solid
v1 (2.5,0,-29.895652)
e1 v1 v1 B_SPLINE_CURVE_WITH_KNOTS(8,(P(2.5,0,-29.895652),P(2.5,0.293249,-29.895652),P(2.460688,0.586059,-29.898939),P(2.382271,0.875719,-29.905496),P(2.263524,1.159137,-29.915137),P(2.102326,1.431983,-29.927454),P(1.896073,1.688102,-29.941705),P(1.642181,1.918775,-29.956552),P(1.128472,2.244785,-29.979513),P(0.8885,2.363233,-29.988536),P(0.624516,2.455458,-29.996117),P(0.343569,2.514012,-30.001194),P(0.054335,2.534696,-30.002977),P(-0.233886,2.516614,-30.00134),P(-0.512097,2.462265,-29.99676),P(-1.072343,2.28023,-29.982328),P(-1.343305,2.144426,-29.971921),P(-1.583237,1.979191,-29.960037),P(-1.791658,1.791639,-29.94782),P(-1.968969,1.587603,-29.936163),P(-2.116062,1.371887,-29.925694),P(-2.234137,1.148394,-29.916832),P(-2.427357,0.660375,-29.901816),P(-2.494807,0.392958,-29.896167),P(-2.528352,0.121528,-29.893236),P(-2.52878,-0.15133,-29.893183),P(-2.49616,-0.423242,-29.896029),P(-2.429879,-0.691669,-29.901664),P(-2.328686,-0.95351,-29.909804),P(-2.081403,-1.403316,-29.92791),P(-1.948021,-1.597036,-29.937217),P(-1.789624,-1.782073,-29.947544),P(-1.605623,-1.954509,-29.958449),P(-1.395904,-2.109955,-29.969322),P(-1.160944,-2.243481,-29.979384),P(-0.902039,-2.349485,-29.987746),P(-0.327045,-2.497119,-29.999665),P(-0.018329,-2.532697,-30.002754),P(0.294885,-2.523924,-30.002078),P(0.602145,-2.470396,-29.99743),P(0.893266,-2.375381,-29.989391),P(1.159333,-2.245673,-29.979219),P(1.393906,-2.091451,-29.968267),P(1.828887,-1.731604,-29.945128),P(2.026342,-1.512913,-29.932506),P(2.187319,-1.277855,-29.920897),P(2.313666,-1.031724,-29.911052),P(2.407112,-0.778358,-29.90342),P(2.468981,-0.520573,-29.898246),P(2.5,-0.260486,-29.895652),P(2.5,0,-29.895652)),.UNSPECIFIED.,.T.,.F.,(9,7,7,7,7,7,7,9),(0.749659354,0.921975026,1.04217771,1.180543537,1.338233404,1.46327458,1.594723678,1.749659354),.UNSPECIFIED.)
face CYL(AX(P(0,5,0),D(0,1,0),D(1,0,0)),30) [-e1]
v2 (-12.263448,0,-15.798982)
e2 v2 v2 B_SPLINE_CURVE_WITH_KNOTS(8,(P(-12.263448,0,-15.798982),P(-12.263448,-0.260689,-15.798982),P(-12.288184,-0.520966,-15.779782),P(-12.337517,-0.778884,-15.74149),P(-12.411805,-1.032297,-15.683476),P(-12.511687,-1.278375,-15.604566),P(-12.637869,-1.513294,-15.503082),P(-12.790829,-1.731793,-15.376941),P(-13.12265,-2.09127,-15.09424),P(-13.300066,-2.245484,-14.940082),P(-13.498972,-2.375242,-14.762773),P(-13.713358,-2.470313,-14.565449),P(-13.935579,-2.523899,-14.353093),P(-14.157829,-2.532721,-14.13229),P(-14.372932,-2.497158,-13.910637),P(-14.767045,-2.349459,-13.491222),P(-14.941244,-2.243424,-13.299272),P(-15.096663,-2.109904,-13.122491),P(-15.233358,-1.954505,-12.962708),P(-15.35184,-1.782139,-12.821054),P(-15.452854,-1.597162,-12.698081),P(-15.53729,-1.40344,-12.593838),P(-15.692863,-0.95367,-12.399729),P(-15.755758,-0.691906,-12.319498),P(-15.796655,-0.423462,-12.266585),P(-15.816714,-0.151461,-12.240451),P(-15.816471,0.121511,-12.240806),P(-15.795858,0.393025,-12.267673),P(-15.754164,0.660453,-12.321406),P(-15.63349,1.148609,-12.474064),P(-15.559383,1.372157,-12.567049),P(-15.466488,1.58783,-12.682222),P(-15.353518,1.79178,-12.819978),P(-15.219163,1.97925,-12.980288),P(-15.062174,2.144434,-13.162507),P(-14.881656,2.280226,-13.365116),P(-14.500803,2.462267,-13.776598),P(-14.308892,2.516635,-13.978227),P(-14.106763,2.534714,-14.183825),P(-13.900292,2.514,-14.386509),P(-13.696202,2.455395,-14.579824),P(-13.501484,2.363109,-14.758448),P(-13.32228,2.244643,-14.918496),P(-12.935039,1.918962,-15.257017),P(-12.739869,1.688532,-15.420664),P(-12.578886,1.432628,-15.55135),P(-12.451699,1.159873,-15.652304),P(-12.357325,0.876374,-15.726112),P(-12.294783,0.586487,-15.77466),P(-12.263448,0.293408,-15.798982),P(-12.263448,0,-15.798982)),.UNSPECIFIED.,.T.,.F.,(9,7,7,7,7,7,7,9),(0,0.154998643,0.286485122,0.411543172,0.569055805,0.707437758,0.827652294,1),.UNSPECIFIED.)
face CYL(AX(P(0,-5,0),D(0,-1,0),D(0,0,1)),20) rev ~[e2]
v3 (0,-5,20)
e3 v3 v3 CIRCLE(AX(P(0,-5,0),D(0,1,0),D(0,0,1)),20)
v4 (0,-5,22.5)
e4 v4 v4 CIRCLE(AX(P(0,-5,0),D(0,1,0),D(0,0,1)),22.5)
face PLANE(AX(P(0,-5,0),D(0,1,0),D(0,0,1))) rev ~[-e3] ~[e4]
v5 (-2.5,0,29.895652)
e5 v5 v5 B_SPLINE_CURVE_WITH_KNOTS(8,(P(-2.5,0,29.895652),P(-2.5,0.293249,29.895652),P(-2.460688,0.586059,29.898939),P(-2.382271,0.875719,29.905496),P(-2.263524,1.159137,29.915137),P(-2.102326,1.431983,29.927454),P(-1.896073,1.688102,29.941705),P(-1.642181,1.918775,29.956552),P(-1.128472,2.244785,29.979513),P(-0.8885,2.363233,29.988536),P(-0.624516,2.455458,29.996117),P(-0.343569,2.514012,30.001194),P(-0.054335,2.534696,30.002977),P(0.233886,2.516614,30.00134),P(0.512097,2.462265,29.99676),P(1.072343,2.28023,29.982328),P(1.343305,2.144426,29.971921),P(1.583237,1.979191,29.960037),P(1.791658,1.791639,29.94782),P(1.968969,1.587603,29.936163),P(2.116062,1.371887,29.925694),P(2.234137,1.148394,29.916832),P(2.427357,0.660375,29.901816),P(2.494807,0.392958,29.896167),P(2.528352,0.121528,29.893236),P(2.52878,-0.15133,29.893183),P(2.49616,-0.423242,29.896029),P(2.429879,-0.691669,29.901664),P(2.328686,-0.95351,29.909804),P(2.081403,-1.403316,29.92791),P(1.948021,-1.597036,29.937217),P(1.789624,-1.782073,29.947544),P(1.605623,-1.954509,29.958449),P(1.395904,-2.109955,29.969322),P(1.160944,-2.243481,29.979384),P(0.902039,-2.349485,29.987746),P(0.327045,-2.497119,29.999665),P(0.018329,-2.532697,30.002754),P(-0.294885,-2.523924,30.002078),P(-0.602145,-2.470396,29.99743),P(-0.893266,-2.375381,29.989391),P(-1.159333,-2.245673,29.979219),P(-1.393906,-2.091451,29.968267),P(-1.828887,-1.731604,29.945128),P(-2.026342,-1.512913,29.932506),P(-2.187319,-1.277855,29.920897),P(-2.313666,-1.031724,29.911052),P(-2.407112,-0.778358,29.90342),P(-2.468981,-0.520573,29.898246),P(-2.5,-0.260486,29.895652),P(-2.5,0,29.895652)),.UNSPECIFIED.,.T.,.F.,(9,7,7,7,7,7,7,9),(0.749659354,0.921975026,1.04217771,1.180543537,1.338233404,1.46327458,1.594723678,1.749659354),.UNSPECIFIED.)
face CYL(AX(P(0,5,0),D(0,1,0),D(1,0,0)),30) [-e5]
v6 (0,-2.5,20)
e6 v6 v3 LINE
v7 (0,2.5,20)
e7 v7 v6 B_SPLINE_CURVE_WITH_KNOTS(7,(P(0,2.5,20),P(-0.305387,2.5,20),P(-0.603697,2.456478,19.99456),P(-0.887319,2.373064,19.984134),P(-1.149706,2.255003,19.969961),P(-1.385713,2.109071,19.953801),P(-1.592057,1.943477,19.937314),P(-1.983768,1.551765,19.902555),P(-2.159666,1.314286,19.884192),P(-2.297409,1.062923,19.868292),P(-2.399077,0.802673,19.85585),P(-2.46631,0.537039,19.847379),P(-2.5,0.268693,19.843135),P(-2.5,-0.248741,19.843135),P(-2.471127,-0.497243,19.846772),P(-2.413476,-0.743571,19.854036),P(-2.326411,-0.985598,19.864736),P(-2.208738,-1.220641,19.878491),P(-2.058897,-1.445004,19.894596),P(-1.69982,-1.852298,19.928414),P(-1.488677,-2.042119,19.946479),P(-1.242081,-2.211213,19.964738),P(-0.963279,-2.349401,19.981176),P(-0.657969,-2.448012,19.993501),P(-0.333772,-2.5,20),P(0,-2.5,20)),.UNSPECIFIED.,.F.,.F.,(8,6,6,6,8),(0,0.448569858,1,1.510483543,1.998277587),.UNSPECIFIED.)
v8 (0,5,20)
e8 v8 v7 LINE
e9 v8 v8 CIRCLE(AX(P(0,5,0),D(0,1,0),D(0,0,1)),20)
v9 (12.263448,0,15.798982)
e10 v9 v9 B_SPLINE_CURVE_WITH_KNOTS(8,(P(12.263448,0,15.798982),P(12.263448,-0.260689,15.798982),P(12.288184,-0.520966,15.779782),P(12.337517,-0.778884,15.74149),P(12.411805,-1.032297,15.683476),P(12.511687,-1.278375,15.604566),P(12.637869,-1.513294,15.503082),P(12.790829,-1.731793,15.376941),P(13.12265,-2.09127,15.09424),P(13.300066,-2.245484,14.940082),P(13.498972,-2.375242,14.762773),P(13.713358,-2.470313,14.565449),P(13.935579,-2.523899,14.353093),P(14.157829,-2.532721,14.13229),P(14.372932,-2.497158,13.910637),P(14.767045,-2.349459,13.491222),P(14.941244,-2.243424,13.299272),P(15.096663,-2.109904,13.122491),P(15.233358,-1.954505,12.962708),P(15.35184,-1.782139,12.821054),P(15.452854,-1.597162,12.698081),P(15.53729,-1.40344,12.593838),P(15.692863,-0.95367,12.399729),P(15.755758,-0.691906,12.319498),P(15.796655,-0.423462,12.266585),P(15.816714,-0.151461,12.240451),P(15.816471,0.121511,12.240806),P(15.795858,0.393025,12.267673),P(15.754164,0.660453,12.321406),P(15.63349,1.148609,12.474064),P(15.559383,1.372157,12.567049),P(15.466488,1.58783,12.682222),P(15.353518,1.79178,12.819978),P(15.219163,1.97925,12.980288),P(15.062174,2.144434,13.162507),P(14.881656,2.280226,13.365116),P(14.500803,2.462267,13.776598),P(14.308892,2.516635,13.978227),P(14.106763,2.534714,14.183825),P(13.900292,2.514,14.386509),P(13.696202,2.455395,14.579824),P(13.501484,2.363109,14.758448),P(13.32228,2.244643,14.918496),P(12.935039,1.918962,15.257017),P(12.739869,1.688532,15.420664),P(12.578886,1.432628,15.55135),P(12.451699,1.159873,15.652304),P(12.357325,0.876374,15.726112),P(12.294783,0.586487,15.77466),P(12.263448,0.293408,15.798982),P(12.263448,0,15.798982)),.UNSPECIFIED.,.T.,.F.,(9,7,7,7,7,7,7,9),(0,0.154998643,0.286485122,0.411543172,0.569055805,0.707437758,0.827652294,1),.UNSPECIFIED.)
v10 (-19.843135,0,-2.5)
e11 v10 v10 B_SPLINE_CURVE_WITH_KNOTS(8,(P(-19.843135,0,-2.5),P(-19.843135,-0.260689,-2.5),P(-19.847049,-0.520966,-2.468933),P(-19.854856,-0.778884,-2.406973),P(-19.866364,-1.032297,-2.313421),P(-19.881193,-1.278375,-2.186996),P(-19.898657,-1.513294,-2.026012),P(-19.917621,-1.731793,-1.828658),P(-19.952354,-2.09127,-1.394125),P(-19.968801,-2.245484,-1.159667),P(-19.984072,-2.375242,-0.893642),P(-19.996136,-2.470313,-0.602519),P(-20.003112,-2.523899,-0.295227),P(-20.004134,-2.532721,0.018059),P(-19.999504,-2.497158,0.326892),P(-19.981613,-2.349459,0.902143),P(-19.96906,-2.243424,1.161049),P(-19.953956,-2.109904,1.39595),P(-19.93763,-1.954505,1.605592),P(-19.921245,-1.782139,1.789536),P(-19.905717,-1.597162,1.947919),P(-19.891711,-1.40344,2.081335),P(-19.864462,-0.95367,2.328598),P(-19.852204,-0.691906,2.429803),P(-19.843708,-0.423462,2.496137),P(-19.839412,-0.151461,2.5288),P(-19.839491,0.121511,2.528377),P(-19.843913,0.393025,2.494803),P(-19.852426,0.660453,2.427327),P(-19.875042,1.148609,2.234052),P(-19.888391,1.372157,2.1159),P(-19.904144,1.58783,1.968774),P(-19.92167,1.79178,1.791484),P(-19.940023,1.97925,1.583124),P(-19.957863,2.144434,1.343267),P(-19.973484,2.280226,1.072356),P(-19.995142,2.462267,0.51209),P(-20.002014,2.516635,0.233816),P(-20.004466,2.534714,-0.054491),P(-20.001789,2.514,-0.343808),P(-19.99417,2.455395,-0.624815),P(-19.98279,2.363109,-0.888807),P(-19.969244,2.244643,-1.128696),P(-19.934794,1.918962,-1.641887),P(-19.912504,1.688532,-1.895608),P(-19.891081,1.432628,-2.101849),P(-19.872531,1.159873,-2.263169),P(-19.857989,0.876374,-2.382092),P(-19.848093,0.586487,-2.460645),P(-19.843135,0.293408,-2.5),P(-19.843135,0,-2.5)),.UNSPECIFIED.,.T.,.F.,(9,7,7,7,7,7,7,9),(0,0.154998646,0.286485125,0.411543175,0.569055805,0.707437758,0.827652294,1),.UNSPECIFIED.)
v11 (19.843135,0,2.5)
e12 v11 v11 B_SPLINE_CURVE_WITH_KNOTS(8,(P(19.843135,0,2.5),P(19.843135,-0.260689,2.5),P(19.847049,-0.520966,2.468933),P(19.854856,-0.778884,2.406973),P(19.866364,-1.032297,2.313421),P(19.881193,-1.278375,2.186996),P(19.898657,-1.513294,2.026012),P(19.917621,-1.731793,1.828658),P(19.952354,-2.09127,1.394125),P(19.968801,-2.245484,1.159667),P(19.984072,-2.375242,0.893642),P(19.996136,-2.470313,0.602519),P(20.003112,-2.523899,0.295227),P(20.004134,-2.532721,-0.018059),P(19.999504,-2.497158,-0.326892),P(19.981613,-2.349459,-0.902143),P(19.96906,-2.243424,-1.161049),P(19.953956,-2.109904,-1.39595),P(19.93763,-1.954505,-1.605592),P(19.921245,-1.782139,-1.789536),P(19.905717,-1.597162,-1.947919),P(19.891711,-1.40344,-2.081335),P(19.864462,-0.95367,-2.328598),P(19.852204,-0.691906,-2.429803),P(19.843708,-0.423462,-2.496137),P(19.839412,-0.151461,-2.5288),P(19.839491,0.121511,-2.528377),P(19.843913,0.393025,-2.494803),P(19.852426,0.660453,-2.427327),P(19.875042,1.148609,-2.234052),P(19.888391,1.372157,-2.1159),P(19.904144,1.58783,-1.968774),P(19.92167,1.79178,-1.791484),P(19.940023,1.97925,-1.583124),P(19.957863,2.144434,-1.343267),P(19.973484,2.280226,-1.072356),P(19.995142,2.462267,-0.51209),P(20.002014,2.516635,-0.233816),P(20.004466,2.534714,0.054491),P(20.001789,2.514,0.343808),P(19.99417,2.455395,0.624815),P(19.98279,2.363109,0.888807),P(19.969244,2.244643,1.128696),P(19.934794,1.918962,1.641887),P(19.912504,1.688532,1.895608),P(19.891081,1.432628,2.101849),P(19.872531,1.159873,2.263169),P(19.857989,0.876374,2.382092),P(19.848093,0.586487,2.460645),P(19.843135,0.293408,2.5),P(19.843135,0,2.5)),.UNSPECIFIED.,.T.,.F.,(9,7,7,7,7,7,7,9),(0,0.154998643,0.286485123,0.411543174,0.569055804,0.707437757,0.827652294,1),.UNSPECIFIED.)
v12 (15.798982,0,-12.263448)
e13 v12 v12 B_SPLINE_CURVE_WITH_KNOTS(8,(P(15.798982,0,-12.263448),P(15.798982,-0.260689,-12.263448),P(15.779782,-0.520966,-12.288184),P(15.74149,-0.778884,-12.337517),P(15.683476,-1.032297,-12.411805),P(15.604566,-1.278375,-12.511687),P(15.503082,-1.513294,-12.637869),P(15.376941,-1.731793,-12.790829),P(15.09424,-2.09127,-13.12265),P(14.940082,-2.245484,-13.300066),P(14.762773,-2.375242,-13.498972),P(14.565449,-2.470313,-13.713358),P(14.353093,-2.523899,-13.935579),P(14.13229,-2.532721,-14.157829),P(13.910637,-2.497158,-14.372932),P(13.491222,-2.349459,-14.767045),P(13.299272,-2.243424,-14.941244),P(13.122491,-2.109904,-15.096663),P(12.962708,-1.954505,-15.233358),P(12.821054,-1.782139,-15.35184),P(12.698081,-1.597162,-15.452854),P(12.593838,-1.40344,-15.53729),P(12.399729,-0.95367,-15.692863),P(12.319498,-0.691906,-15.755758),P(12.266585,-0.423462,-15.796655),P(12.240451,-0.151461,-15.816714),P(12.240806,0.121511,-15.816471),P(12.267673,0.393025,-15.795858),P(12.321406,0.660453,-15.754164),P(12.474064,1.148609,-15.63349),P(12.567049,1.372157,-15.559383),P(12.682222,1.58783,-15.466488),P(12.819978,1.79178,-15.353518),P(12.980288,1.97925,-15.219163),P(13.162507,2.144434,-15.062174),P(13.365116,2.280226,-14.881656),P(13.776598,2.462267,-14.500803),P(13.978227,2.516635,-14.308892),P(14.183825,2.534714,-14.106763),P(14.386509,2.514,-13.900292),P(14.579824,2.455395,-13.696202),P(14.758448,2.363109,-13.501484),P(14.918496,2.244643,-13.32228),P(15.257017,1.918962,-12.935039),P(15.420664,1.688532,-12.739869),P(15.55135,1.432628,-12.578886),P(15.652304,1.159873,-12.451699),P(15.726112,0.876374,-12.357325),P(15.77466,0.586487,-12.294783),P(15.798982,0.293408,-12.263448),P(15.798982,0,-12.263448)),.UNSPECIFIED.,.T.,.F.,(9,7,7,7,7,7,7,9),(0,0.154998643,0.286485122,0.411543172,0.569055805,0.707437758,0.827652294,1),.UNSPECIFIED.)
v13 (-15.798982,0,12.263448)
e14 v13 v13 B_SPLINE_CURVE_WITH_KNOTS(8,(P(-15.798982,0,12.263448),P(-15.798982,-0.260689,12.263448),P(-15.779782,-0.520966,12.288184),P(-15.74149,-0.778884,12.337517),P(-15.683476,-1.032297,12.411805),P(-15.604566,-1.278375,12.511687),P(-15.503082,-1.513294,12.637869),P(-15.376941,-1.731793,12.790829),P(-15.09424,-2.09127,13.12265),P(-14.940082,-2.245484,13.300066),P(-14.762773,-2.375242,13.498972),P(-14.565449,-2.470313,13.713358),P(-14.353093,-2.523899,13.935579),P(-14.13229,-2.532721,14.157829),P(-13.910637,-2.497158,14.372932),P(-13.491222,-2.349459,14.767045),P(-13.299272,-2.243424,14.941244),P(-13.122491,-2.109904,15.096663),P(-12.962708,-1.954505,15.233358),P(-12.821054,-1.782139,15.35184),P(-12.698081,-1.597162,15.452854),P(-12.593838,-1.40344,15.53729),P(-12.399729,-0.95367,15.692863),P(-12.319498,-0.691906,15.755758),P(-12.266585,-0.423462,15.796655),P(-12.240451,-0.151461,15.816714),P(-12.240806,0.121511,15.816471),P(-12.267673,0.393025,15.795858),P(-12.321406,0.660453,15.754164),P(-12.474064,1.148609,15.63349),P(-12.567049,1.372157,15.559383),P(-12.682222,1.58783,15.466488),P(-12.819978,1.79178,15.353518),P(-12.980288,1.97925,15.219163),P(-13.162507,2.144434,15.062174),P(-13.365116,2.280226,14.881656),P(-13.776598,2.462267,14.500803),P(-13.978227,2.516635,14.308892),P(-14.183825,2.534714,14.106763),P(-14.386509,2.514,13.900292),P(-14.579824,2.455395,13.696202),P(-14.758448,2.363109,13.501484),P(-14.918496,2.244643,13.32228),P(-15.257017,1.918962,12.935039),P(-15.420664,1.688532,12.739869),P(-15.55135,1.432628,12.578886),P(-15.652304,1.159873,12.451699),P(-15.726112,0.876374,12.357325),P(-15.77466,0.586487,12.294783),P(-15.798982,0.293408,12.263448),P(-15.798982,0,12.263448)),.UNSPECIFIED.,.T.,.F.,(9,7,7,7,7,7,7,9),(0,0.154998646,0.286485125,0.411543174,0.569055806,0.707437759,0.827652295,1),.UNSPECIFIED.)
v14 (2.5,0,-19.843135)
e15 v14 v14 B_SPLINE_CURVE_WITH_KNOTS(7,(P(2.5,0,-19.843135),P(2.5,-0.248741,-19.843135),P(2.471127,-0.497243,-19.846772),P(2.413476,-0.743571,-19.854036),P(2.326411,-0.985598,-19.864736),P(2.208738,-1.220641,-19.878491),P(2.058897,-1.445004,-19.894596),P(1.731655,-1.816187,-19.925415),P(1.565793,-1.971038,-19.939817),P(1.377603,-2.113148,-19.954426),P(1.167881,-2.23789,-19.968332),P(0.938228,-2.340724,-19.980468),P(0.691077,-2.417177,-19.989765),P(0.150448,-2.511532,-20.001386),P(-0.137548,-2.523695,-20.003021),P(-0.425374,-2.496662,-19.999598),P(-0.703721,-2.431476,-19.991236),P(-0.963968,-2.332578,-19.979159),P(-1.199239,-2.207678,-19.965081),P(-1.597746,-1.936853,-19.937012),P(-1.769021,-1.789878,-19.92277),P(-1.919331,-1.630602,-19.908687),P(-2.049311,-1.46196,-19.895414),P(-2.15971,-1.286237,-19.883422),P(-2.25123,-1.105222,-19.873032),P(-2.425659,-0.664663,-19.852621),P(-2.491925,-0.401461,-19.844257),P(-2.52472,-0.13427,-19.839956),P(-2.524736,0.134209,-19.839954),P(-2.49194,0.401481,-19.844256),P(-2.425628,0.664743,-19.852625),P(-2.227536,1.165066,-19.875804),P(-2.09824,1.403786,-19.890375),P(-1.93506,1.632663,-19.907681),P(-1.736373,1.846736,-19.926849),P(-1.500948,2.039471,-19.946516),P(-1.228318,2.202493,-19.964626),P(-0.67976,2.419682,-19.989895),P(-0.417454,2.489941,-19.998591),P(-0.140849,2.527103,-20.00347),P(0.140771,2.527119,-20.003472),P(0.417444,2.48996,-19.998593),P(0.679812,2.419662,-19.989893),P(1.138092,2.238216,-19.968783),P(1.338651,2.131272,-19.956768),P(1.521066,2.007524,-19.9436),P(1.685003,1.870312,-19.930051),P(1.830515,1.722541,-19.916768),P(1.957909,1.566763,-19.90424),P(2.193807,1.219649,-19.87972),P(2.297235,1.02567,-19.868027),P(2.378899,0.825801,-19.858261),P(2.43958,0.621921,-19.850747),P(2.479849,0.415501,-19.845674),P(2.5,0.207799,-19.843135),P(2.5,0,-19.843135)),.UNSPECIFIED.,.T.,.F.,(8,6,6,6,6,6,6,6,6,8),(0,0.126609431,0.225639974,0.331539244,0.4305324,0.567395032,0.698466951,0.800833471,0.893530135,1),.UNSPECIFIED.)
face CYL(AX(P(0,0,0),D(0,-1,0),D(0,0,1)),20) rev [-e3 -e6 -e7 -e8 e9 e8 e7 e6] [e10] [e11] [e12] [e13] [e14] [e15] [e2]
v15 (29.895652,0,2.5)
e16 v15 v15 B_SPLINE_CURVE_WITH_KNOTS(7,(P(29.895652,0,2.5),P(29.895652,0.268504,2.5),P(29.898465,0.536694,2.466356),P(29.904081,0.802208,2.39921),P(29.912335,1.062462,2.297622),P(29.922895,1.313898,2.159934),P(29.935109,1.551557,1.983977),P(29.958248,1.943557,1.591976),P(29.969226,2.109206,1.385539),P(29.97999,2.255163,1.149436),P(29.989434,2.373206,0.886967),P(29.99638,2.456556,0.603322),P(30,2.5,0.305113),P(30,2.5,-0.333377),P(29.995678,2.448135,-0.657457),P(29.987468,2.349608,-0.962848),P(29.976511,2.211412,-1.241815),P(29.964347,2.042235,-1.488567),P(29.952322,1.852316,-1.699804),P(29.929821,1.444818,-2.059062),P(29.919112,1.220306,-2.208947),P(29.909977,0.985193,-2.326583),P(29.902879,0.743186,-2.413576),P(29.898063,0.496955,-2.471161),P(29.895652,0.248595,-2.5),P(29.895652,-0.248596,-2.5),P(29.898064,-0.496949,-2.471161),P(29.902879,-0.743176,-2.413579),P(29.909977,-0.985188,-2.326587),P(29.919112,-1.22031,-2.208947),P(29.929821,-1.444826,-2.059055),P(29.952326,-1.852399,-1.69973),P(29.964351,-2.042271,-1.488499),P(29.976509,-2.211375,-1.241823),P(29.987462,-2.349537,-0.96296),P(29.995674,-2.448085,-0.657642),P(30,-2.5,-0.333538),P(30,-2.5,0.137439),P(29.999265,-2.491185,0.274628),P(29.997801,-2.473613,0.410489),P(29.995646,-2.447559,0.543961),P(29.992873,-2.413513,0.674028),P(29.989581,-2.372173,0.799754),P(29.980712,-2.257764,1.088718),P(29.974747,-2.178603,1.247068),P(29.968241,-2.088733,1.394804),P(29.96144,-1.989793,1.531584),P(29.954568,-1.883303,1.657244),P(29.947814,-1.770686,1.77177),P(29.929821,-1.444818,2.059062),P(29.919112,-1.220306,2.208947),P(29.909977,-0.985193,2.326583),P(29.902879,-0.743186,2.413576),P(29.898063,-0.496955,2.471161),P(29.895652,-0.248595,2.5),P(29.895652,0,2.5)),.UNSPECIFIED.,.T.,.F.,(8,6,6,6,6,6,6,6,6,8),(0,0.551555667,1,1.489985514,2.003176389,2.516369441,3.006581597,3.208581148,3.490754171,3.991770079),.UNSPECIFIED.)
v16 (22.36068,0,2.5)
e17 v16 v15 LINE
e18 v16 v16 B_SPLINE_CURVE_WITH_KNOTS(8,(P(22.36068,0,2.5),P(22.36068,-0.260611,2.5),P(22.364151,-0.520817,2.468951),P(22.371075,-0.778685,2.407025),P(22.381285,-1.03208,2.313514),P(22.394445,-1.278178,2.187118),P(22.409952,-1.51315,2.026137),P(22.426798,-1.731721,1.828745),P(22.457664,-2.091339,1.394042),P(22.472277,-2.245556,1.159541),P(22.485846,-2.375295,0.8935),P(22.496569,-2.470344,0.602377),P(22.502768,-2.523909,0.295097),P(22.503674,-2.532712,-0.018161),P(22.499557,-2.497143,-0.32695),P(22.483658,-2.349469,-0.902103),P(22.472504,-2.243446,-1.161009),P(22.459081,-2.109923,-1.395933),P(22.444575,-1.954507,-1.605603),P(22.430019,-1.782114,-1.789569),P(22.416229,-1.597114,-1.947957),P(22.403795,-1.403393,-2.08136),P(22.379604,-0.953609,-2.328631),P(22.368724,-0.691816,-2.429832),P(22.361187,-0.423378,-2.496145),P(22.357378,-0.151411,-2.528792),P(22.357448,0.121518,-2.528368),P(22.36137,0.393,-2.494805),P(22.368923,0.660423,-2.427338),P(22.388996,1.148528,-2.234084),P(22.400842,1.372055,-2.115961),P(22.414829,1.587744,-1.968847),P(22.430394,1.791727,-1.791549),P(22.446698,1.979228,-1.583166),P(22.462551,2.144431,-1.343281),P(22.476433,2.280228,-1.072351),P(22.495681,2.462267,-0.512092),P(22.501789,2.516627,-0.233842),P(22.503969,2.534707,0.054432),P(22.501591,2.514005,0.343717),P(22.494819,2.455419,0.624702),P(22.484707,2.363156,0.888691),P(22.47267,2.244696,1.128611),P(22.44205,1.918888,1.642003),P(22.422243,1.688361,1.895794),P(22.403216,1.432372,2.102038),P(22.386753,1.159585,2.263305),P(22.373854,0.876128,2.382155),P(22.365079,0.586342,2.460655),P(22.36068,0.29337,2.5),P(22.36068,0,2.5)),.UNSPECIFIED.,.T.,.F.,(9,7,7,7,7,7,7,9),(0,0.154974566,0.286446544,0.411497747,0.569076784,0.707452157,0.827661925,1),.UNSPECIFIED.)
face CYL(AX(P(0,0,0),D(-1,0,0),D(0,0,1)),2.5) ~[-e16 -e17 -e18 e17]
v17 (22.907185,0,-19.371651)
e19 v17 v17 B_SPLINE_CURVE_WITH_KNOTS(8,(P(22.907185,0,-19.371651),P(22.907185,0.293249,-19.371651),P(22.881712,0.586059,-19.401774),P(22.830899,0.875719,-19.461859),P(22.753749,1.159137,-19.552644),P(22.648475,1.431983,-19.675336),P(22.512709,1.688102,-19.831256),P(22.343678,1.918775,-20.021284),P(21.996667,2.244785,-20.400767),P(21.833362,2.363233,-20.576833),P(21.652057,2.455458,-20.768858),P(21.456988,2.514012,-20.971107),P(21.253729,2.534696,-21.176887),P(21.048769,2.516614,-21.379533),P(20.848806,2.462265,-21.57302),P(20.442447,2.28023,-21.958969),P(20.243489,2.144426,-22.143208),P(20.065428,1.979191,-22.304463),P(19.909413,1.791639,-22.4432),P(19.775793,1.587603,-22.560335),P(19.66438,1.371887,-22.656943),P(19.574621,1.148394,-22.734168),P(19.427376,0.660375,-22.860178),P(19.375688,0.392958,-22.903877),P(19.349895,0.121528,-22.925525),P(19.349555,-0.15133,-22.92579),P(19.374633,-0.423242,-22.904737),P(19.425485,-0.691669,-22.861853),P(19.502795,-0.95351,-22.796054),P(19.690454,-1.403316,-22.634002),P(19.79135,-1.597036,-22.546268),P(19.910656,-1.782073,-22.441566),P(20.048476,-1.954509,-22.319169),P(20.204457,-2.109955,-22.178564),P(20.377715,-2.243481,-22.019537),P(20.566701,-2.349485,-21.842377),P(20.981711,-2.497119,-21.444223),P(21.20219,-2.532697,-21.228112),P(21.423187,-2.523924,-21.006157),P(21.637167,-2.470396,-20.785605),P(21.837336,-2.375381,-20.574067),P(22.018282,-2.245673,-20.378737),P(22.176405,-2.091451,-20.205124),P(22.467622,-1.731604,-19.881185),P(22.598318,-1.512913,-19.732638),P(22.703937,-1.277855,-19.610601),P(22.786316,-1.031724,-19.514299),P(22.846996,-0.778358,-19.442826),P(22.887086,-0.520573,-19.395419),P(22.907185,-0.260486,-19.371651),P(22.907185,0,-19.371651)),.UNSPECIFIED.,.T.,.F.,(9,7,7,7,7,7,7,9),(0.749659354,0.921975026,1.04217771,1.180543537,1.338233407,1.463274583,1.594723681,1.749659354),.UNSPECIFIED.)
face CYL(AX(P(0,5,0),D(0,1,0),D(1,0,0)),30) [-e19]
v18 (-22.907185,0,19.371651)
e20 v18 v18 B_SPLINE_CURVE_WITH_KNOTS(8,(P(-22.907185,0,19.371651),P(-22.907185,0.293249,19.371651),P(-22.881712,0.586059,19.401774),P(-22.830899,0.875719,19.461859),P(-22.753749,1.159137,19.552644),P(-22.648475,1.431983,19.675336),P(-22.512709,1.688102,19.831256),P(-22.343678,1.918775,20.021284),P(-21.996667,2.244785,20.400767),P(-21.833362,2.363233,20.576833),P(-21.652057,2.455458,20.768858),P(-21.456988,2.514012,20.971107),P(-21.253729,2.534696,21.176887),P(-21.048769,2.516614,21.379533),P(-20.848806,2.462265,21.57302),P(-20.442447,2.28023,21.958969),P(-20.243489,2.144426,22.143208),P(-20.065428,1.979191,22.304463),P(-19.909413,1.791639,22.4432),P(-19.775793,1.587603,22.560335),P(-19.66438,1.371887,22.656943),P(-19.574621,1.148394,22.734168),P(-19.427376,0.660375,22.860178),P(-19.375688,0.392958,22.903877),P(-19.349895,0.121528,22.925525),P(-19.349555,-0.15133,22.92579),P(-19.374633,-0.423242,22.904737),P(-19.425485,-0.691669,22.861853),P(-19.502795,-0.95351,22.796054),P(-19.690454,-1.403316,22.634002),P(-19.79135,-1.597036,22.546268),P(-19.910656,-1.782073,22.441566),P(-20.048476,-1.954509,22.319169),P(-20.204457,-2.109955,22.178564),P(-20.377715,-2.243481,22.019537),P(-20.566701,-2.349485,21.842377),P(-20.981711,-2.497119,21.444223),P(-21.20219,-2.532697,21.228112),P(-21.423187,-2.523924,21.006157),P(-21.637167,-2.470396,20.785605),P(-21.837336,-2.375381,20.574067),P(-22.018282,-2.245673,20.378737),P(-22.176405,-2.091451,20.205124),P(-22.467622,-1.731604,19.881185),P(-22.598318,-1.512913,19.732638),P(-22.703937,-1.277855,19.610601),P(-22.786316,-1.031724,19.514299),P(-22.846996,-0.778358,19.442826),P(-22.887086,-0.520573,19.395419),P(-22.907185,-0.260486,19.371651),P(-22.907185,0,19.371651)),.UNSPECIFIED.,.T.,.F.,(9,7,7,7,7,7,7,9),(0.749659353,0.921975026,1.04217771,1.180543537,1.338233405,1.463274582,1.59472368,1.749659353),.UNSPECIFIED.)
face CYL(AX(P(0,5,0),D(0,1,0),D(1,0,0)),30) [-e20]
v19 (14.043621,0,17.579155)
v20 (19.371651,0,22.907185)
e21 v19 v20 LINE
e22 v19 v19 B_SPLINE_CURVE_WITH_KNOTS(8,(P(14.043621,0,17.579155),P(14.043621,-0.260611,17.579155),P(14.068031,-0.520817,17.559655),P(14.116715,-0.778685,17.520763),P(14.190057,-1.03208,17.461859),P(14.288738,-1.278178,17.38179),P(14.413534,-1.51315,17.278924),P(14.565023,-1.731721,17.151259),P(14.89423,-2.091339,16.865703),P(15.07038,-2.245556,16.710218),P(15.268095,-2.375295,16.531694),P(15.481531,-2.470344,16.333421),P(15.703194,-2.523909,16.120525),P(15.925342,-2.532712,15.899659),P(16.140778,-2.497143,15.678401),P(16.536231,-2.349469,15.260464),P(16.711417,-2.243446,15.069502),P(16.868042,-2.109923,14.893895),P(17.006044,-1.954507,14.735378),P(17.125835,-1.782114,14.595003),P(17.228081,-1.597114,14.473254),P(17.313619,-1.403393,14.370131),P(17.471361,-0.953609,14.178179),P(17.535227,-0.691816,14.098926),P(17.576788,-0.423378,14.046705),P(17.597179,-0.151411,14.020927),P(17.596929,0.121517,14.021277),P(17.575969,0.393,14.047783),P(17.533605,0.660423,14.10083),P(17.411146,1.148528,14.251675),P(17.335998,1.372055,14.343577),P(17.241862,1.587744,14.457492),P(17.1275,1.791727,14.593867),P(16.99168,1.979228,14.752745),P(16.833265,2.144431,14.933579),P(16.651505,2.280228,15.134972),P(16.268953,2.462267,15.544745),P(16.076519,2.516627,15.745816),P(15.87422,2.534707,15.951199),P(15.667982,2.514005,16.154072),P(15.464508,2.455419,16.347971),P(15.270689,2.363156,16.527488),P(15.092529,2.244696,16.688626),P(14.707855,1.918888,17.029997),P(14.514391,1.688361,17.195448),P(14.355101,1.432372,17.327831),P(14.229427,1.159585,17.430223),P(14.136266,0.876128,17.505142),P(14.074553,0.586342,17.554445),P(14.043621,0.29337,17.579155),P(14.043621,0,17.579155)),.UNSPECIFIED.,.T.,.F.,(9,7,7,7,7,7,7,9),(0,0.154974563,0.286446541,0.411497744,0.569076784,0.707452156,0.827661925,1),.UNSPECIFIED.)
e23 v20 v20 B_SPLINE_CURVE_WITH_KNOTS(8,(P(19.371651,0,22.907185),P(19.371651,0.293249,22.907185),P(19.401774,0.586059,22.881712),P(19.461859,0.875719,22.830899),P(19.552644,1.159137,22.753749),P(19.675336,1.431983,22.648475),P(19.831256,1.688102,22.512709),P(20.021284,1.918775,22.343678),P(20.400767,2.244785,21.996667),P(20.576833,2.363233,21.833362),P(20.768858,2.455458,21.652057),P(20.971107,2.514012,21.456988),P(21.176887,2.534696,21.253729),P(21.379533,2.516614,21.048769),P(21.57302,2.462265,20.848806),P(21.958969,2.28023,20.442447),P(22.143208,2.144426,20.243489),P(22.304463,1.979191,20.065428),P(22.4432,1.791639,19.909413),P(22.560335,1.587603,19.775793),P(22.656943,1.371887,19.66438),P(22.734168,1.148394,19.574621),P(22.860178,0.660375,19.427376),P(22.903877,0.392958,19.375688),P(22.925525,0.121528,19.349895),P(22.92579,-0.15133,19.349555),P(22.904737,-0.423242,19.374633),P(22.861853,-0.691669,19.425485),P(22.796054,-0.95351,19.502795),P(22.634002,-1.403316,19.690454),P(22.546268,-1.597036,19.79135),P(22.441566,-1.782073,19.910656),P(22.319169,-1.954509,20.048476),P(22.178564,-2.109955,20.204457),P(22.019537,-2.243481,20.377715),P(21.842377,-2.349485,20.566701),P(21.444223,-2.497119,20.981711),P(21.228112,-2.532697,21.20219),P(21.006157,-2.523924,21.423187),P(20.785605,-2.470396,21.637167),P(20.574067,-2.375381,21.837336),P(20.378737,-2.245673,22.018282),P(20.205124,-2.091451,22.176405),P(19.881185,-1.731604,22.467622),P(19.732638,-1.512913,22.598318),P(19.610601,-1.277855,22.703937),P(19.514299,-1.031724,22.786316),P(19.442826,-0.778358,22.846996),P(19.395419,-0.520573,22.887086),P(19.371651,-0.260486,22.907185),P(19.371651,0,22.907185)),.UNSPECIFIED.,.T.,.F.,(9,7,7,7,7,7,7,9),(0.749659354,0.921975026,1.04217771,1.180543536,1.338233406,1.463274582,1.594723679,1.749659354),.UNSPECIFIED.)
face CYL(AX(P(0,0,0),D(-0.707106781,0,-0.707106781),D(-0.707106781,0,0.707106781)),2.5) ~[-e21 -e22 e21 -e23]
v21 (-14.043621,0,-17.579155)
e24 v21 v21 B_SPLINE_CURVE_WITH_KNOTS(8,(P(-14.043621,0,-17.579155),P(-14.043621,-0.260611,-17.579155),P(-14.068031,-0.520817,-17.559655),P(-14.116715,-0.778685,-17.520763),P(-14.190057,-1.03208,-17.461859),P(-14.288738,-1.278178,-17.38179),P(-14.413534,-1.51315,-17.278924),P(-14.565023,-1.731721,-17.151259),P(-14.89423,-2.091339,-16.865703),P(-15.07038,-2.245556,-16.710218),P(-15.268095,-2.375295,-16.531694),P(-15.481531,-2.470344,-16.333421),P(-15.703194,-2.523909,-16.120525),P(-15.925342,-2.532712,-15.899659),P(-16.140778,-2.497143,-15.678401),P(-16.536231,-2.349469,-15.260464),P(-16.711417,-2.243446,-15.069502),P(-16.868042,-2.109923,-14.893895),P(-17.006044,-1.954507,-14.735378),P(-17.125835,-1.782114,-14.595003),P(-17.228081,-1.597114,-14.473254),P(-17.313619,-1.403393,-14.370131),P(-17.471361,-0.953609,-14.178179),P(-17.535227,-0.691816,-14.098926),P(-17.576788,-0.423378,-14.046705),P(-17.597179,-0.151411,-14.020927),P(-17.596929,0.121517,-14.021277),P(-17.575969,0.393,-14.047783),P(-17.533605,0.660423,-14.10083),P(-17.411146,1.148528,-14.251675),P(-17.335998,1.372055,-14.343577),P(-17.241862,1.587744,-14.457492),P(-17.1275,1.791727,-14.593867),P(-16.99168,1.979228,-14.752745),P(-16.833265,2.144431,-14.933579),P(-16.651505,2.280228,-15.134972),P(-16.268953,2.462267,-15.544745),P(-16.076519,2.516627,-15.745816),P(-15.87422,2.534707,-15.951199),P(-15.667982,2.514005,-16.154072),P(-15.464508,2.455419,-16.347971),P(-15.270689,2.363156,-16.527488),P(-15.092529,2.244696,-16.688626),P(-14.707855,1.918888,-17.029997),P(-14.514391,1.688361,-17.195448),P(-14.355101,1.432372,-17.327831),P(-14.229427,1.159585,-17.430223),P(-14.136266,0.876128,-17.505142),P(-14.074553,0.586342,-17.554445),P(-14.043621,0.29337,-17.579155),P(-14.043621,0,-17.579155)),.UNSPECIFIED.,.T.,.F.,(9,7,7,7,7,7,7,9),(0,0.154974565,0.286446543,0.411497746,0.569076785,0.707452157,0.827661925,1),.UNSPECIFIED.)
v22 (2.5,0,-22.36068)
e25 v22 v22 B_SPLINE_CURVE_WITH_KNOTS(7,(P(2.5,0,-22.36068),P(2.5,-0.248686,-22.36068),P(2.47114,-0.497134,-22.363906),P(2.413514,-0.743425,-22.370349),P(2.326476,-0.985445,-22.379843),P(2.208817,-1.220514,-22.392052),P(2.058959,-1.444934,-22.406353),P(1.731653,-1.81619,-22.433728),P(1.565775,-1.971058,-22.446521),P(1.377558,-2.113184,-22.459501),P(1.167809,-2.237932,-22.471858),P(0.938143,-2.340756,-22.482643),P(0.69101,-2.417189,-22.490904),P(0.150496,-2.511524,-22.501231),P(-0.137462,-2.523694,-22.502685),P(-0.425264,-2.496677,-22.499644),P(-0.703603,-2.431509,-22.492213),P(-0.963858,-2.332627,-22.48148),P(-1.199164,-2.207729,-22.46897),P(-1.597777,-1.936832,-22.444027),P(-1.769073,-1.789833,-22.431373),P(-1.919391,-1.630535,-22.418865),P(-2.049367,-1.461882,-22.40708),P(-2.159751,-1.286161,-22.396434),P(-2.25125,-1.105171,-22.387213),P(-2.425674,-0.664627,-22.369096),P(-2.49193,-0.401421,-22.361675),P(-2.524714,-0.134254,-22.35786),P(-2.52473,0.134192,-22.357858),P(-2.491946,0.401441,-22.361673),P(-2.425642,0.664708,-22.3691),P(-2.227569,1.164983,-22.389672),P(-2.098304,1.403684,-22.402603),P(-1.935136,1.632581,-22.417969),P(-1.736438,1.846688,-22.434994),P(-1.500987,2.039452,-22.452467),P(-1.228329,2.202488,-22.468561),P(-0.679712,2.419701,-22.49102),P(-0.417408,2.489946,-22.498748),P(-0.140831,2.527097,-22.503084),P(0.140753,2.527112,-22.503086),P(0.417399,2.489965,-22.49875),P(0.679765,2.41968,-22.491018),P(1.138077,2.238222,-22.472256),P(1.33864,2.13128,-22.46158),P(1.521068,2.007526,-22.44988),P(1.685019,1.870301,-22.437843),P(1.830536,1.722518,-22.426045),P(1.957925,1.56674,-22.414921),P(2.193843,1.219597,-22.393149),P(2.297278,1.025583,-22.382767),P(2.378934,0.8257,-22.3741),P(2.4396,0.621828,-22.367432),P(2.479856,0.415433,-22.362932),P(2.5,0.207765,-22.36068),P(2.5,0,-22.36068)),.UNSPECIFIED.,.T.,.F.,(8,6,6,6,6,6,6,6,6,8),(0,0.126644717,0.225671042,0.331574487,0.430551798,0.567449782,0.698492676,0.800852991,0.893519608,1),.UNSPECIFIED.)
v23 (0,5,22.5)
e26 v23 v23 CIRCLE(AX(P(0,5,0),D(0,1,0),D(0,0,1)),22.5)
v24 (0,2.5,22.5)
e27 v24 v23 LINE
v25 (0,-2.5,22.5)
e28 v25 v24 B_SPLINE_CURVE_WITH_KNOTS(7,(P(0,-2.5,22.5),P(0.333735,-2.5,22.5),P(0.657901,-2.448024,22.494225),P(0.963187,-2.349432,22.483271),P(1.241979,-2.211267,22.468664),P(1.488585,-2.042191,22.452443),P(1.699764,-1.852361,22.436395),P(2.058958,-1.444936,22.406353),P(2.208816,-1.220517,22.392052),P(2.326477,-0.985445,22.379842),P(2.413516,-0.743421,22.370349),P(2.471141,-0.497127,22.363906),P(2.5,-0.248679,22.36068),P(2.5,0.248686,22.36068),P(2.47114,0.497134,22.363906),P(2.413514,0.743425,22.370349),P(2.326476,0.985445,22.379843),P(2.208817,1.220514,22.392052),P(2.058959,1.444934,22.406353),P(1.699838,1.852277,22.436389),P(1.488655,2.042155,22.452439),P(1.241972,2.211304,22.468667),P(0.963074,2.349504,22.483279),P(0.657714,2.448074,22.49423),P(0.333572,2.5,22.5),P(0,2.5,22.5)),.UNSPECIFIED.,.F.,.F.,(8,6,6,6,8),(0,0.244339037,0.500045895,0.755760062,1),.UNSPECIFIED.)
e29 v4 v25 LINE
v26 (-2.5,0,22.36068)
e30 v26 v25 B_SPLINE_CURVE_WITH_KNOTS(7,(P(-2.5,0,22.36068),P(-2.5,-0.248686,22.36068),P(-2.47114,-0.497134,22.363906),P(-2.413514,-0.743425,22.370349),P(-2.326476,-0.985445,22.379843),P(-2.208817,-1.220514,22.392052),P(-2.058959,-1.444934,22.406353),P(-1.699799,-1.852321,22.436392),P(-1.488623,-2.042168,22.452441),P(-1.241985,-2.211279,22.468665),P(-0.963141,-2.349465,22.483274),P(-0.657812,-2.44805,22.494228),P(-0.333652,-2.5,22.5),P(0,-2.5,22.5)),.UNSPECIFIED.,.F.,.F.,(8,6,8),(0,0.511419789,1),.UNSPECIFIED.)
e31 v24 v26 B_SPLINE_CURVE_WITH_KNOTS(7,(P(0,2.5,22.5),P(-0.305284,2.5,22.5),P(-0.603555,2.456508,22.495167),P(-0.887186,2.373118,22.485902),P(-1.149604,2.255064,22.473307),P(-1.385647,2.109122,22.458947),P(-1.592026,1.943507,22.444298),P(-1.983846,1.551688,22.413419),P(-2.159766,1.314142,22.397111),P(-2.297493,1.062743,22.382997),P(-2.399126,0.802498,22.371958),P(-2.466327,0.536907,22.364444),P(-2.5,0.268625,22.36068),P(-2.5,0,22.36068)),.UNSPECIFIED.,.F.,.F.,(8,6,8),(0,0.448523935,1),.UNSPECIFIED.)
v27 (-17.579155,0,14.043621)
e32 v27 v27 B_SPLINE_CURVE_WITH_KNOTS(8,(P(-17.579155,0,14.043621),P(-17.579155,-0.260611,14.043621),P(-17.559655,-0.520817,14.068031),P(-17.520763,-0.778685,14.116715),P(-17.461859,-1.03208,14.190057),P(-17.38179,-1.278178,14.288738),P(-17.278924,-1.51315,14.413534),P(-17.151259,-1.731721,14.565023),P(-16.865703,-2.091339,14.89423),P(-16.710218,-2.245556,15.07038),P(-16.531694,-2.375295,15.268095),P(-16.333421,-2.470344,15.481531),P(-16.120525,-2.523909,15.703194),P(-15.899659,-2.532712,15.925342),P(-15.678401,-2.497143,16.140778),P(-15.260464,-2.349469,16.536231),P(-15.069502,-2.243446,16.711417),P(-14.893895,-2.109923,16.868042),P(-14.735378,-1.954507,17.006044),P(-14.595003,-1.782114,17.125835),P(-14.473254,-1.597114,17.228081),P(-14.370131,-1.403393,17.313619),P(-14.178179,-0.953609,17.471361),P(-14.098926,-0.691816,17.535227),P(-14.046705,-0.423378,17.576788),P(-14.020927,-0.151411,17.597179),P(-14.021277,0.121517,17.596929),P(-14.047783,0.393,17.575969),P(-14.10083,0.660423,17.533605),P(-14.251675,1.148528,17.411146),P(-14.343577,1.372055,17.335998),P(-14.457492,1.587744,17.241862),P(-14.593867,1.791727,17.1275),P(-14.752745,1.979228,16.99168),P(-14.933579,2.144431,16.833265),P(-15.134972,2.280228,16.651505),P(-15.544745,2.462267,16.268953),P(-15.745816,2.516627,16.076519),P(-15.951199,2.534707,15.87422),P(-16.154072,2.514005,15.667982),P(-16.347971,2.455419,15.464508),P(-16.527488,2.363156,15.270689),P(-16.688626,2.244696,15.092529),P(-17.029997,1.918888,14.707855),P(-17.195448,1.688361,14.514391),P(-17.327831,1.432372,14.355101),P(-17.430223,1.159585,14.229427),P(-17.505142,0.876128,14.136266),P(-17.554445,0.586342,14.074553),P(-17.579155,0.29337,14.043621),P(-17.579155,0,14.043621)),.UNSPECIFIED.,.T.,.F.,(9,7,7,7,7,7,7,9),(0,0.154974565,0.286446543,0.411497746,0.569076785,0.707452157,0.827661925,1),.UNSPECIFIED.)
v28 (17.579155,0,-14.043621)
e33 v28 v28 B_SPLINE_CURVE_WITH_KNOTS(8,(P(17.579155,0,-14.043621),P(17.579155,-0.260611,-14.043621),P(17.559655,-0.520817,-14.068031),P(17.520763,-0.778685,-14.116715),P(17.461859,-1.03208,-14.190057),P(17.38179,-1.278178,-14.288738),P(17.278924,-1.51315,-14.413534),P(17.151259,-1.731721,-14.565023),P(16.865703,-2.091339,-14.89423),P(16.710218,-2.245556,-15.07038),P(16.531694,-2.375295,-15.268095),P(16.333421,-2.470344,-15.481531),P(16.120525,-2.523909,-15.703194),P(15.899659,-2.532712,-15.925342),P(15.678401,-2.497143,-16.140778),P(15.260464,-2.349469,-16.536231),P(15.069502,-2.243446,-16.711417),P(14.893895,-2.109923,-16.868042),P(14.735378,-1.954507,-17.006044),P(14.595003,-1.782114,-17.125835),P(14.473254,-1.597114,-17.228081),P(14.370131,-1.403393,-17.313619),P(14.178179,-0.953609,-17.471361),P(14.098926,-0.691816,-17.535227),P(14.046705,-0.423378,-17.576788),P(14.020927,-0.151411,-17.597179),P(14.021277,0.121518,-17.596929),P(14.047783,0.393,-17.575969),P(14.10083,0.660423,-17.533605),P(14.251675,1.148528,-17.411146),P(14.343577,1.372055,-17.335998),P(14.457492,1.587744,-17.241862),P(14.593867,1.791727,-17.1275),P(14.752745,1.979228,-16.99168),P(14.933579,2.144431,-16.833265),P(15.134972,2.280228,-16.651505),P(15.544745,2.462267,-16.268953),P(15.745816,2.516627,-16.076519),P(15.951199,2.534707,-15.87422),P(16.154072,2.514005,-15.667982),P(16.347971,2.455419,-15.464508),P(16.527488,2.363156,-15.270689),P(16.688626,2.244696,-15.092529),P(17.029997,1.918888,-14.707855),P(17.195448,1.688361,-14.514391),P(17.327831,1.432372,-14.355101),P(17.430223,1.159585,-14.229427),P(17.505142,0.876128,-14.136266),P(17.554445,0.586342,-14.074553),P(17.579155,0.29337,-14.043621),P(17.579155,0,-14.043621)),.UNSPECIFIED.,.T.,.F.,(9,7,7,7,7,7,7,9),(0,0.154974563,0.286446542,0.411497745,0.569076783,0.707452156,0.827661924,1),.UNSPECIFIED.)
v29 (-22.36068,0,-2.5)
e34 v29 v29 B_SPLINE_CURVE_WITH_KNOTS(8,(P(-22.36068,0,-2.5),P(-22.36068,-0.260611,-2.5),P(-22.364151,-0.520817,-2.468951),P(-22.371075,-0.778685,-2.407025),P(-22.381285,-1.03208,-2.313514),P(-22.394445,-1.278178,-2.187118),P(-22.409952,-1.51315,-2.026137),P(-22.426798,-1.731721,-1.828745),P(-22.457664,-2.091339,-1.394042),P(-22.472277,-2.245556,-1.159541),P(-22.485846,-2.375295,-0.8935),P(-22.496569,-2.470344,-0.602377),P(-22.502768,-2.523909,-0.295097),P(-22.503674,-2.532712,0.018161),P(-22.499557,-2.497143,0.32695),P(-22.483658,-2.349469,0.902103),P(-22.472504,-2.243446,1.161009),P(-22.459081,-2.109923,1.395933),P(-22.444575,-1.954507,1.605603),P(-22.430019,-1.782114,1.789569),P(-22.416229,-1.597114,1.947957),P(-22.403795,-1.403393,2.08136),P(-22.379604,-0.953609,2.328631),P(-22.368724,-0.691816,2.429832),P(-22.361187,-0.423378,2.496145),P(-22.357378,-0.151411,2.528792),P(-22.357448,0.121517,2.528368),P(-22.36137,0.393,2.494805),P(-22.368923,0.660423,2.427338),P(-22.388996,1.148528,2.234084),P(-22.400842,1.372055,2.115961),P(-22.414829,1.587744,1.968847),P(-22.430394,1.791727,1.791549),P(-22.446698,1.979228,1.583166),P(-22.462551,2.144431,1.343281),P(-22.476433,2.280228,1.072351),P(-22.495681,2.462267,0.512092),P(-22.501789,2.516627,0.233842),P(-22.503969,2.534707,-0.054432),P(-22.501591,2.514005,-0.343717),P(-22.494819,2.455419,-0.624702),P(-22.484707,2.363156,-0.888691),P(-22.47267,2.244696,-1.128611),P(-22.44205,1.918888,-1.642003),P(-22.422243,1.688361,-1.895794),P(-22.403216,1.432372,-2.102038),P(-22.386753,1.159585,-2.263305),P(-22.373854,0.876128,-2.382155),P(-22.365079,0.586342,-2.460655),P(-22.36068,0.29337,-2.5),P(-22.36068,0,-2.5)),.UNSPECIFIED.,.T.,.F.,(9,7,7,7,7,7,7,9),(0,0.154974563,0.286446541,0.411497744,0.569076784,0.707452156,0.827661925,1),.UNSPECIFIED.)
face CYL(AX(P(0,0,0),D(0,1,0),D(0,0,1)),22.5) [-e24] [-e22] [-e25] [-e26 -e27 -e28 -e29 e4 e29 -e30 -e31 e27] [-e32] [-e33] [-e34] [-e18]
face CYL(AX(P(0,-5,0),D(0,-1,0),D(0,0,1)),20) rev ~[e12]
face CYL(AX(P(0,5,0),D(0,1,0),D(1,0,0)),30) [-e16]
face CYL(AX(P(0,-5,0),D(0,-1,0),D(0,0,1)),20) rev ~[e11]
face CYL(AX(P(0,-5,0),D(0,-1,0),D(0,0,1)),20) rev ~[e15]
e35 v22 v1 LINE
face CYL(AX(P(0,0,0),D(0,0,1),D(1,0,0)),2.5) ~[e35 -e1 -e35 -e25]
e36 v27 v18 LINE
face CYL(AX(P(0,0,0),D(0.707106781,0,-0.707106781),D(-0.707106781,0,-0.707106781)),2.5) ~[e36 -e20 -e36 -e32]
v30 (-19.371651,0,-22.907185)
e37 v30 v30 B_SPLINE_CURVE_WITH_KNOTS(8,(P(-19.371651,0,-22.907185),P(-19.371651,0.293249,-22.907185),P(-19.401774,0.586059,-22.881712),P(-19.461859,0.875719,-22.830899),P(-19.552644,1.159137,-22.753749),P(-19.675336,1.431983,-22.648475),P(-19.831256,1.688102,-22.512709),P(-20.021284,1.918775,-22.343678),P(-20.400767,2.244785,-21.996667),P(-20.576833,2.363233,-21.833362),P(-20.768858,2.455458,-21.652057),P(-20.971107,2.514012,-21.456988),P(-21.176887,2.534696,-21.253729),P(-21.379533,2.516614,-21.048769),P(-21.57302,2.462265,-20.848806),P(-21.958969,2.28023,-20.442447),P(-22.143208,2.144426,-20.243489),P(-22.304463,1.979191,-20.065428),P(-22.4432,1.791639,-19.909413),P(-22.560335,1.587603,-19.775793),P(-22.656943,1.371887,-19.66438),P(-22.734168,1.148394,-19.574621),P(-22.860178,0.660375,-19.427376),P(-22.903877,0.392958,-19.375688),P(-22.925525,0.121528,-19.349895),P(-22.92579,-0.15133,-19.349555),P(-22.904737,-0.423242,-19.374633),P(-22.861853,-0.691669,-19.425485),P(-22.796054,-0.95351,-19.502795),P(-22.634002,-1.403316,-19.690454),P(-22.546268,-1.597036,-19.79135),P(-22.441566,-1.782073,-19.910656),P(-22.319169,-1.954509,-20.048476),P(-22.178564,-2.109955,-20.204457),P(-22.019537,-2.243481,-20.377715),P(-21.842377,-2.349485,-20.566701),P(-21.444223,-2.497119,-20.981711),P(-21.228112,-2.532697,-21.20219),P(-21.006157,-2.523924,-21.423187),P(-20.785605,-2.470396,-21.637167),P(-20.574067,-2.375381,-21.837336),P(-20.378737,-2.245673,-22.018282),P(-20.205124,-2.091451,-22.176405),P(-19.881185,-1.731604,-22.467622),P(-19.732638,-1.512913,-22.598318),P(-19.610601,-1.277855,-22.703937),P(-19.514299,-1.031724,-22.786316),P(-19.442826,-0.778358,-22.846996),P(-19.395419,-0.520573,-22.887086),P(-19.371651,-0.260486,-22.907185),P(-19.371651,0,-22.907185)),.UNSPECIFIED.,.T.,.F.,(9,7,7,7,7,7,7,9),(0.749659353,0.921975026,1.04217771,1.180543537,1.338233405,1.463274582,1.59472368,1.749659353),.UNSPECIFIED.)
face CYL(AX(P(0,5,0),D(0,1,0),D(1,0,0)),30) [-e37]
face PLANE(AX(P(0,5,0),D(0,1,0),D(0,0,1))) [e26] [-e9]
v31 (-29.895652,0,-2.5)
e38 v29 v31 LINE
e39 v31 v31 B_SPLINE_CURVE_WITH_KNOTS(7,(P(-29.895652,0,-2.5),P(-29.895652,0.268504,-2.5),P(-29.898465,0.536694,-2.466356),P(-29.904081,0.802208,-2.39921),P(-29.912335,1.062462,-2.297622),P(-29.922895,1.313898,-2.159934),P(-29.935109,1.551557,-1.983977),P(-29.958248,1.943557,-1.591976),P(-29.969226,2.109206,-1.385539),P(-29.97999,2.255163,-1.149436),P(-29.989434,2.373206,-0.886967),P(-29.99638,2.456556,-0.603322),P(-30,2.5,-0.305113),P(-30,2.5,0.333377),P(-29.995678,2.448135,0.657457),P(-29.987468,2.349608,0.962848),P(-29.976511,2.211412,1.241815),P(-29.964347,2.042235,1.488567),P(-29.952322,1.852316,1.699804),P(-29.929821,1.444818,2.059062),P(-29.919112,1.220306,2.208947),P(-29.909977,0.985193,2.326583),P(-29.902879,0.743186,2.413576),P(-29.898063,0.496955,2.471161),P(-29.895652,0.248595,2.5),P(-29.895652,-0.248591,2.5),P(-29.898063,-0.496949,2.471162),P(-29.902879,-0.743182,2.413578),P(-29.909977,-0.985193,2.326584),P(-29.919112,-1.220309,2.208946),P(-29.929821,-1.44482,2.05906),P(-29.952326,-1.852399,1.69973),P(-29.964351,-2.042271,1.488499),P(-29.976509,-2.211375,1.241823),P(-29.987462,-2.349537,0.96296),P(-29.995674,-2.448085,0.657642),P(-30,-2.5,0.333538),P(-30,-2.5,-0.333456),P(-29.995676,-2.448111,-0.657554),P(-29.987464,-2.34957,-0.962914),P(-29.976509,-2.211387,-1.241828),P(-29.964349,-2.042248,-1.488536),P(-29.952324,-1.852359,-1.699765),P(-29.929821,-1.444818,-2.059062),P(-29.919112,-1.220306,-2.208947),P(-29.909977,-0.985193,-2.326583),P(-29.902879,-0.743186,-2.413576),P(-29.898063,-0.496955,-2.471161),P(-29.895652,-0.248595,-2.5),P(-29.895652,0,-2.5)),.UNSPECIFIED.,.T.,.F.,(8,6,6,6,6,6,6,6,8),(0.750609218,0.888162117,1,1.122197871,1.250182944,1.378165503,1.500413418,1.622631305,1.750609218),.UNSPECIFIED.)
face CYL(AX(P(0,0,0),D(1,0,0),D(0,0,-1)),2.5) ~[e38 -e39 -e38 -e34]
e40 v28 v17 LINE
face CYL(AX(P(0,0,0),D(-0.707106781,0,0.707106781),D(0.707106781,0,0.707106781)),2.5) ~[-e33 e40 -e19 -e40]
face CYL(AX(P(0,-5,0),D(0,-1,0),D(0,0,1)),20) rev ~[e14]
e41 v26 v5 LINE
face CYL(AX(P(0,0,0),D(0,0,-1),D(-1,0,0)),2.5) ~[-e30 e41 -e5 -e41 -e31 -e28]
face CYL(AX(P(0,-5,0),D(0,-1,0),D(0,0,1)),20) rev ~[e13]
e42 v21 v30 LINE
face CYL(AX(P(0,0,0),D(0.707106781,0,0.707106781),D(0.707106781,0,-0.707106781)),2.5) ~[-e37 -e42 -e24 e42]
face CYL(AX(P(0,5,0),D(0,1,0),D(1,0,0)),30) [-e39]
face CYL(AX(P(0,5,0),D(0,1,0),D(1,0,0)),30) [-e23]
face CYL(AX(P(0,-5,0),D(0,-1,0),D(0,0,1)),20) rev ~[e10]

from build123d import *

# Parameters (mm, degrees)
SKETCH1_R           = 22.5
SKETCH1_R_2         = 20
BOSS_EXTRUDE1_DEPTH = 5
SKETCH4_R           = 2.5
BOSS_EXTRUDE3_DEPTH = 30
SKETCH5_R           = 20
CUT_EXTRUDE1_DEPTH  = 39.810436902
CIRPATTERN1_COUNT   = 8
SKETCH6_R           = 20
CUT_EXTRUDE2_DEPTH  = 44.588989596
SKETCH7_OUTSIDE_W   = 79.088
SKETCH7_OUTSIDE_H   = 79.088
SKETCH7_OUTSIDE_R   = 30
CUT_EXTRUDE4_DEPTH  = 44.588989596


with BuildPart() as part:
    # Sketch1 → Boss-Extrude1 (new, symmetric)
    with BuildSketch(Plane(origin=(0, 0, 0), x_dir=(1, 0, 0), z_dir=(0, 1, 0))):
        with Locations(Location((0, 0, 0), (0, 0, 270))):
            Circle(SKETCH1_R)
        with Locations(Location((0, 0, 0), (0, 0, 270))):
            Circle(SKETCH1_R_2, mode=Mode.SUBTRACT)
    extrude(amount=BOSS_EXTRUDE1_DEPTH, both=True)

    # Sketch4 → Boss-Extrude3 (add)
    with BuildSketch(Plane(origin=(0, 0, 0), x_dir=(0, 0, -1), z_dir=(1, 0, 0))):
        with Locations(Location((0, 0, 0), (0, 0, 180))):
            Circle(SKETCH4_R)
    boss_extrude3 = extrude(amount=BOSS_EXTRUDE3_DEPTH)

    # Sketch5 → Cut-Extrude1 (cut, through all)
    with BuildSketch(Plane.XZ.offset(5)):
        with Locations(Location((0, 0, 0), (0, 0, 90))):
            Circle(SKETCH5_R)
    extrude(amount=-CUT_EXTRUDE1_DEPTH, mode=Mode.SUBTRACT)

    # CirPattern1: Boss-Extrude3 ×8 about axis
    cirpattern1_axis = Axis((0, 0, 0), (0, 1, 0))
    for i in range(1, CIRPATTERN1_COUNT):
        add(boss_extrude3.rotate(cirpattern1_axis, i * 360 / CIRPATTERN1_COUNT))

    # Sketch6 → Cut-Extrude2 (cut, through all)
    with BuildSketch(Plane.XZ.offset(5)):
        with Locations(Location((0, 0, 0), (0, 0, 90))):
            Circle(SKETCH6_R)
    extrude(amount=-CUT_EXTRUDE2_DEPTH, mode=Mode.SUBTRACT)

    # Sketch7 outside → Cut-Extrude4 (cut, through all)
    with BuildSketch(Plane(origin=(0, 5, 0), x_dir=(1, 0, 0), z_dir=(0, 1, 0))):
        Rectangle(SKETCH7_OUTSIDE_W, SKETCH7_OUTSIDE_H)
        Circle(SKETCH7_OUTSIDE_R, mode=Mode.SUBTRACT)
    extrude(amount=-CUT_EXTRUDE4_DEPTH, mode=Mode.SUBTRACT)


solid = part.part
